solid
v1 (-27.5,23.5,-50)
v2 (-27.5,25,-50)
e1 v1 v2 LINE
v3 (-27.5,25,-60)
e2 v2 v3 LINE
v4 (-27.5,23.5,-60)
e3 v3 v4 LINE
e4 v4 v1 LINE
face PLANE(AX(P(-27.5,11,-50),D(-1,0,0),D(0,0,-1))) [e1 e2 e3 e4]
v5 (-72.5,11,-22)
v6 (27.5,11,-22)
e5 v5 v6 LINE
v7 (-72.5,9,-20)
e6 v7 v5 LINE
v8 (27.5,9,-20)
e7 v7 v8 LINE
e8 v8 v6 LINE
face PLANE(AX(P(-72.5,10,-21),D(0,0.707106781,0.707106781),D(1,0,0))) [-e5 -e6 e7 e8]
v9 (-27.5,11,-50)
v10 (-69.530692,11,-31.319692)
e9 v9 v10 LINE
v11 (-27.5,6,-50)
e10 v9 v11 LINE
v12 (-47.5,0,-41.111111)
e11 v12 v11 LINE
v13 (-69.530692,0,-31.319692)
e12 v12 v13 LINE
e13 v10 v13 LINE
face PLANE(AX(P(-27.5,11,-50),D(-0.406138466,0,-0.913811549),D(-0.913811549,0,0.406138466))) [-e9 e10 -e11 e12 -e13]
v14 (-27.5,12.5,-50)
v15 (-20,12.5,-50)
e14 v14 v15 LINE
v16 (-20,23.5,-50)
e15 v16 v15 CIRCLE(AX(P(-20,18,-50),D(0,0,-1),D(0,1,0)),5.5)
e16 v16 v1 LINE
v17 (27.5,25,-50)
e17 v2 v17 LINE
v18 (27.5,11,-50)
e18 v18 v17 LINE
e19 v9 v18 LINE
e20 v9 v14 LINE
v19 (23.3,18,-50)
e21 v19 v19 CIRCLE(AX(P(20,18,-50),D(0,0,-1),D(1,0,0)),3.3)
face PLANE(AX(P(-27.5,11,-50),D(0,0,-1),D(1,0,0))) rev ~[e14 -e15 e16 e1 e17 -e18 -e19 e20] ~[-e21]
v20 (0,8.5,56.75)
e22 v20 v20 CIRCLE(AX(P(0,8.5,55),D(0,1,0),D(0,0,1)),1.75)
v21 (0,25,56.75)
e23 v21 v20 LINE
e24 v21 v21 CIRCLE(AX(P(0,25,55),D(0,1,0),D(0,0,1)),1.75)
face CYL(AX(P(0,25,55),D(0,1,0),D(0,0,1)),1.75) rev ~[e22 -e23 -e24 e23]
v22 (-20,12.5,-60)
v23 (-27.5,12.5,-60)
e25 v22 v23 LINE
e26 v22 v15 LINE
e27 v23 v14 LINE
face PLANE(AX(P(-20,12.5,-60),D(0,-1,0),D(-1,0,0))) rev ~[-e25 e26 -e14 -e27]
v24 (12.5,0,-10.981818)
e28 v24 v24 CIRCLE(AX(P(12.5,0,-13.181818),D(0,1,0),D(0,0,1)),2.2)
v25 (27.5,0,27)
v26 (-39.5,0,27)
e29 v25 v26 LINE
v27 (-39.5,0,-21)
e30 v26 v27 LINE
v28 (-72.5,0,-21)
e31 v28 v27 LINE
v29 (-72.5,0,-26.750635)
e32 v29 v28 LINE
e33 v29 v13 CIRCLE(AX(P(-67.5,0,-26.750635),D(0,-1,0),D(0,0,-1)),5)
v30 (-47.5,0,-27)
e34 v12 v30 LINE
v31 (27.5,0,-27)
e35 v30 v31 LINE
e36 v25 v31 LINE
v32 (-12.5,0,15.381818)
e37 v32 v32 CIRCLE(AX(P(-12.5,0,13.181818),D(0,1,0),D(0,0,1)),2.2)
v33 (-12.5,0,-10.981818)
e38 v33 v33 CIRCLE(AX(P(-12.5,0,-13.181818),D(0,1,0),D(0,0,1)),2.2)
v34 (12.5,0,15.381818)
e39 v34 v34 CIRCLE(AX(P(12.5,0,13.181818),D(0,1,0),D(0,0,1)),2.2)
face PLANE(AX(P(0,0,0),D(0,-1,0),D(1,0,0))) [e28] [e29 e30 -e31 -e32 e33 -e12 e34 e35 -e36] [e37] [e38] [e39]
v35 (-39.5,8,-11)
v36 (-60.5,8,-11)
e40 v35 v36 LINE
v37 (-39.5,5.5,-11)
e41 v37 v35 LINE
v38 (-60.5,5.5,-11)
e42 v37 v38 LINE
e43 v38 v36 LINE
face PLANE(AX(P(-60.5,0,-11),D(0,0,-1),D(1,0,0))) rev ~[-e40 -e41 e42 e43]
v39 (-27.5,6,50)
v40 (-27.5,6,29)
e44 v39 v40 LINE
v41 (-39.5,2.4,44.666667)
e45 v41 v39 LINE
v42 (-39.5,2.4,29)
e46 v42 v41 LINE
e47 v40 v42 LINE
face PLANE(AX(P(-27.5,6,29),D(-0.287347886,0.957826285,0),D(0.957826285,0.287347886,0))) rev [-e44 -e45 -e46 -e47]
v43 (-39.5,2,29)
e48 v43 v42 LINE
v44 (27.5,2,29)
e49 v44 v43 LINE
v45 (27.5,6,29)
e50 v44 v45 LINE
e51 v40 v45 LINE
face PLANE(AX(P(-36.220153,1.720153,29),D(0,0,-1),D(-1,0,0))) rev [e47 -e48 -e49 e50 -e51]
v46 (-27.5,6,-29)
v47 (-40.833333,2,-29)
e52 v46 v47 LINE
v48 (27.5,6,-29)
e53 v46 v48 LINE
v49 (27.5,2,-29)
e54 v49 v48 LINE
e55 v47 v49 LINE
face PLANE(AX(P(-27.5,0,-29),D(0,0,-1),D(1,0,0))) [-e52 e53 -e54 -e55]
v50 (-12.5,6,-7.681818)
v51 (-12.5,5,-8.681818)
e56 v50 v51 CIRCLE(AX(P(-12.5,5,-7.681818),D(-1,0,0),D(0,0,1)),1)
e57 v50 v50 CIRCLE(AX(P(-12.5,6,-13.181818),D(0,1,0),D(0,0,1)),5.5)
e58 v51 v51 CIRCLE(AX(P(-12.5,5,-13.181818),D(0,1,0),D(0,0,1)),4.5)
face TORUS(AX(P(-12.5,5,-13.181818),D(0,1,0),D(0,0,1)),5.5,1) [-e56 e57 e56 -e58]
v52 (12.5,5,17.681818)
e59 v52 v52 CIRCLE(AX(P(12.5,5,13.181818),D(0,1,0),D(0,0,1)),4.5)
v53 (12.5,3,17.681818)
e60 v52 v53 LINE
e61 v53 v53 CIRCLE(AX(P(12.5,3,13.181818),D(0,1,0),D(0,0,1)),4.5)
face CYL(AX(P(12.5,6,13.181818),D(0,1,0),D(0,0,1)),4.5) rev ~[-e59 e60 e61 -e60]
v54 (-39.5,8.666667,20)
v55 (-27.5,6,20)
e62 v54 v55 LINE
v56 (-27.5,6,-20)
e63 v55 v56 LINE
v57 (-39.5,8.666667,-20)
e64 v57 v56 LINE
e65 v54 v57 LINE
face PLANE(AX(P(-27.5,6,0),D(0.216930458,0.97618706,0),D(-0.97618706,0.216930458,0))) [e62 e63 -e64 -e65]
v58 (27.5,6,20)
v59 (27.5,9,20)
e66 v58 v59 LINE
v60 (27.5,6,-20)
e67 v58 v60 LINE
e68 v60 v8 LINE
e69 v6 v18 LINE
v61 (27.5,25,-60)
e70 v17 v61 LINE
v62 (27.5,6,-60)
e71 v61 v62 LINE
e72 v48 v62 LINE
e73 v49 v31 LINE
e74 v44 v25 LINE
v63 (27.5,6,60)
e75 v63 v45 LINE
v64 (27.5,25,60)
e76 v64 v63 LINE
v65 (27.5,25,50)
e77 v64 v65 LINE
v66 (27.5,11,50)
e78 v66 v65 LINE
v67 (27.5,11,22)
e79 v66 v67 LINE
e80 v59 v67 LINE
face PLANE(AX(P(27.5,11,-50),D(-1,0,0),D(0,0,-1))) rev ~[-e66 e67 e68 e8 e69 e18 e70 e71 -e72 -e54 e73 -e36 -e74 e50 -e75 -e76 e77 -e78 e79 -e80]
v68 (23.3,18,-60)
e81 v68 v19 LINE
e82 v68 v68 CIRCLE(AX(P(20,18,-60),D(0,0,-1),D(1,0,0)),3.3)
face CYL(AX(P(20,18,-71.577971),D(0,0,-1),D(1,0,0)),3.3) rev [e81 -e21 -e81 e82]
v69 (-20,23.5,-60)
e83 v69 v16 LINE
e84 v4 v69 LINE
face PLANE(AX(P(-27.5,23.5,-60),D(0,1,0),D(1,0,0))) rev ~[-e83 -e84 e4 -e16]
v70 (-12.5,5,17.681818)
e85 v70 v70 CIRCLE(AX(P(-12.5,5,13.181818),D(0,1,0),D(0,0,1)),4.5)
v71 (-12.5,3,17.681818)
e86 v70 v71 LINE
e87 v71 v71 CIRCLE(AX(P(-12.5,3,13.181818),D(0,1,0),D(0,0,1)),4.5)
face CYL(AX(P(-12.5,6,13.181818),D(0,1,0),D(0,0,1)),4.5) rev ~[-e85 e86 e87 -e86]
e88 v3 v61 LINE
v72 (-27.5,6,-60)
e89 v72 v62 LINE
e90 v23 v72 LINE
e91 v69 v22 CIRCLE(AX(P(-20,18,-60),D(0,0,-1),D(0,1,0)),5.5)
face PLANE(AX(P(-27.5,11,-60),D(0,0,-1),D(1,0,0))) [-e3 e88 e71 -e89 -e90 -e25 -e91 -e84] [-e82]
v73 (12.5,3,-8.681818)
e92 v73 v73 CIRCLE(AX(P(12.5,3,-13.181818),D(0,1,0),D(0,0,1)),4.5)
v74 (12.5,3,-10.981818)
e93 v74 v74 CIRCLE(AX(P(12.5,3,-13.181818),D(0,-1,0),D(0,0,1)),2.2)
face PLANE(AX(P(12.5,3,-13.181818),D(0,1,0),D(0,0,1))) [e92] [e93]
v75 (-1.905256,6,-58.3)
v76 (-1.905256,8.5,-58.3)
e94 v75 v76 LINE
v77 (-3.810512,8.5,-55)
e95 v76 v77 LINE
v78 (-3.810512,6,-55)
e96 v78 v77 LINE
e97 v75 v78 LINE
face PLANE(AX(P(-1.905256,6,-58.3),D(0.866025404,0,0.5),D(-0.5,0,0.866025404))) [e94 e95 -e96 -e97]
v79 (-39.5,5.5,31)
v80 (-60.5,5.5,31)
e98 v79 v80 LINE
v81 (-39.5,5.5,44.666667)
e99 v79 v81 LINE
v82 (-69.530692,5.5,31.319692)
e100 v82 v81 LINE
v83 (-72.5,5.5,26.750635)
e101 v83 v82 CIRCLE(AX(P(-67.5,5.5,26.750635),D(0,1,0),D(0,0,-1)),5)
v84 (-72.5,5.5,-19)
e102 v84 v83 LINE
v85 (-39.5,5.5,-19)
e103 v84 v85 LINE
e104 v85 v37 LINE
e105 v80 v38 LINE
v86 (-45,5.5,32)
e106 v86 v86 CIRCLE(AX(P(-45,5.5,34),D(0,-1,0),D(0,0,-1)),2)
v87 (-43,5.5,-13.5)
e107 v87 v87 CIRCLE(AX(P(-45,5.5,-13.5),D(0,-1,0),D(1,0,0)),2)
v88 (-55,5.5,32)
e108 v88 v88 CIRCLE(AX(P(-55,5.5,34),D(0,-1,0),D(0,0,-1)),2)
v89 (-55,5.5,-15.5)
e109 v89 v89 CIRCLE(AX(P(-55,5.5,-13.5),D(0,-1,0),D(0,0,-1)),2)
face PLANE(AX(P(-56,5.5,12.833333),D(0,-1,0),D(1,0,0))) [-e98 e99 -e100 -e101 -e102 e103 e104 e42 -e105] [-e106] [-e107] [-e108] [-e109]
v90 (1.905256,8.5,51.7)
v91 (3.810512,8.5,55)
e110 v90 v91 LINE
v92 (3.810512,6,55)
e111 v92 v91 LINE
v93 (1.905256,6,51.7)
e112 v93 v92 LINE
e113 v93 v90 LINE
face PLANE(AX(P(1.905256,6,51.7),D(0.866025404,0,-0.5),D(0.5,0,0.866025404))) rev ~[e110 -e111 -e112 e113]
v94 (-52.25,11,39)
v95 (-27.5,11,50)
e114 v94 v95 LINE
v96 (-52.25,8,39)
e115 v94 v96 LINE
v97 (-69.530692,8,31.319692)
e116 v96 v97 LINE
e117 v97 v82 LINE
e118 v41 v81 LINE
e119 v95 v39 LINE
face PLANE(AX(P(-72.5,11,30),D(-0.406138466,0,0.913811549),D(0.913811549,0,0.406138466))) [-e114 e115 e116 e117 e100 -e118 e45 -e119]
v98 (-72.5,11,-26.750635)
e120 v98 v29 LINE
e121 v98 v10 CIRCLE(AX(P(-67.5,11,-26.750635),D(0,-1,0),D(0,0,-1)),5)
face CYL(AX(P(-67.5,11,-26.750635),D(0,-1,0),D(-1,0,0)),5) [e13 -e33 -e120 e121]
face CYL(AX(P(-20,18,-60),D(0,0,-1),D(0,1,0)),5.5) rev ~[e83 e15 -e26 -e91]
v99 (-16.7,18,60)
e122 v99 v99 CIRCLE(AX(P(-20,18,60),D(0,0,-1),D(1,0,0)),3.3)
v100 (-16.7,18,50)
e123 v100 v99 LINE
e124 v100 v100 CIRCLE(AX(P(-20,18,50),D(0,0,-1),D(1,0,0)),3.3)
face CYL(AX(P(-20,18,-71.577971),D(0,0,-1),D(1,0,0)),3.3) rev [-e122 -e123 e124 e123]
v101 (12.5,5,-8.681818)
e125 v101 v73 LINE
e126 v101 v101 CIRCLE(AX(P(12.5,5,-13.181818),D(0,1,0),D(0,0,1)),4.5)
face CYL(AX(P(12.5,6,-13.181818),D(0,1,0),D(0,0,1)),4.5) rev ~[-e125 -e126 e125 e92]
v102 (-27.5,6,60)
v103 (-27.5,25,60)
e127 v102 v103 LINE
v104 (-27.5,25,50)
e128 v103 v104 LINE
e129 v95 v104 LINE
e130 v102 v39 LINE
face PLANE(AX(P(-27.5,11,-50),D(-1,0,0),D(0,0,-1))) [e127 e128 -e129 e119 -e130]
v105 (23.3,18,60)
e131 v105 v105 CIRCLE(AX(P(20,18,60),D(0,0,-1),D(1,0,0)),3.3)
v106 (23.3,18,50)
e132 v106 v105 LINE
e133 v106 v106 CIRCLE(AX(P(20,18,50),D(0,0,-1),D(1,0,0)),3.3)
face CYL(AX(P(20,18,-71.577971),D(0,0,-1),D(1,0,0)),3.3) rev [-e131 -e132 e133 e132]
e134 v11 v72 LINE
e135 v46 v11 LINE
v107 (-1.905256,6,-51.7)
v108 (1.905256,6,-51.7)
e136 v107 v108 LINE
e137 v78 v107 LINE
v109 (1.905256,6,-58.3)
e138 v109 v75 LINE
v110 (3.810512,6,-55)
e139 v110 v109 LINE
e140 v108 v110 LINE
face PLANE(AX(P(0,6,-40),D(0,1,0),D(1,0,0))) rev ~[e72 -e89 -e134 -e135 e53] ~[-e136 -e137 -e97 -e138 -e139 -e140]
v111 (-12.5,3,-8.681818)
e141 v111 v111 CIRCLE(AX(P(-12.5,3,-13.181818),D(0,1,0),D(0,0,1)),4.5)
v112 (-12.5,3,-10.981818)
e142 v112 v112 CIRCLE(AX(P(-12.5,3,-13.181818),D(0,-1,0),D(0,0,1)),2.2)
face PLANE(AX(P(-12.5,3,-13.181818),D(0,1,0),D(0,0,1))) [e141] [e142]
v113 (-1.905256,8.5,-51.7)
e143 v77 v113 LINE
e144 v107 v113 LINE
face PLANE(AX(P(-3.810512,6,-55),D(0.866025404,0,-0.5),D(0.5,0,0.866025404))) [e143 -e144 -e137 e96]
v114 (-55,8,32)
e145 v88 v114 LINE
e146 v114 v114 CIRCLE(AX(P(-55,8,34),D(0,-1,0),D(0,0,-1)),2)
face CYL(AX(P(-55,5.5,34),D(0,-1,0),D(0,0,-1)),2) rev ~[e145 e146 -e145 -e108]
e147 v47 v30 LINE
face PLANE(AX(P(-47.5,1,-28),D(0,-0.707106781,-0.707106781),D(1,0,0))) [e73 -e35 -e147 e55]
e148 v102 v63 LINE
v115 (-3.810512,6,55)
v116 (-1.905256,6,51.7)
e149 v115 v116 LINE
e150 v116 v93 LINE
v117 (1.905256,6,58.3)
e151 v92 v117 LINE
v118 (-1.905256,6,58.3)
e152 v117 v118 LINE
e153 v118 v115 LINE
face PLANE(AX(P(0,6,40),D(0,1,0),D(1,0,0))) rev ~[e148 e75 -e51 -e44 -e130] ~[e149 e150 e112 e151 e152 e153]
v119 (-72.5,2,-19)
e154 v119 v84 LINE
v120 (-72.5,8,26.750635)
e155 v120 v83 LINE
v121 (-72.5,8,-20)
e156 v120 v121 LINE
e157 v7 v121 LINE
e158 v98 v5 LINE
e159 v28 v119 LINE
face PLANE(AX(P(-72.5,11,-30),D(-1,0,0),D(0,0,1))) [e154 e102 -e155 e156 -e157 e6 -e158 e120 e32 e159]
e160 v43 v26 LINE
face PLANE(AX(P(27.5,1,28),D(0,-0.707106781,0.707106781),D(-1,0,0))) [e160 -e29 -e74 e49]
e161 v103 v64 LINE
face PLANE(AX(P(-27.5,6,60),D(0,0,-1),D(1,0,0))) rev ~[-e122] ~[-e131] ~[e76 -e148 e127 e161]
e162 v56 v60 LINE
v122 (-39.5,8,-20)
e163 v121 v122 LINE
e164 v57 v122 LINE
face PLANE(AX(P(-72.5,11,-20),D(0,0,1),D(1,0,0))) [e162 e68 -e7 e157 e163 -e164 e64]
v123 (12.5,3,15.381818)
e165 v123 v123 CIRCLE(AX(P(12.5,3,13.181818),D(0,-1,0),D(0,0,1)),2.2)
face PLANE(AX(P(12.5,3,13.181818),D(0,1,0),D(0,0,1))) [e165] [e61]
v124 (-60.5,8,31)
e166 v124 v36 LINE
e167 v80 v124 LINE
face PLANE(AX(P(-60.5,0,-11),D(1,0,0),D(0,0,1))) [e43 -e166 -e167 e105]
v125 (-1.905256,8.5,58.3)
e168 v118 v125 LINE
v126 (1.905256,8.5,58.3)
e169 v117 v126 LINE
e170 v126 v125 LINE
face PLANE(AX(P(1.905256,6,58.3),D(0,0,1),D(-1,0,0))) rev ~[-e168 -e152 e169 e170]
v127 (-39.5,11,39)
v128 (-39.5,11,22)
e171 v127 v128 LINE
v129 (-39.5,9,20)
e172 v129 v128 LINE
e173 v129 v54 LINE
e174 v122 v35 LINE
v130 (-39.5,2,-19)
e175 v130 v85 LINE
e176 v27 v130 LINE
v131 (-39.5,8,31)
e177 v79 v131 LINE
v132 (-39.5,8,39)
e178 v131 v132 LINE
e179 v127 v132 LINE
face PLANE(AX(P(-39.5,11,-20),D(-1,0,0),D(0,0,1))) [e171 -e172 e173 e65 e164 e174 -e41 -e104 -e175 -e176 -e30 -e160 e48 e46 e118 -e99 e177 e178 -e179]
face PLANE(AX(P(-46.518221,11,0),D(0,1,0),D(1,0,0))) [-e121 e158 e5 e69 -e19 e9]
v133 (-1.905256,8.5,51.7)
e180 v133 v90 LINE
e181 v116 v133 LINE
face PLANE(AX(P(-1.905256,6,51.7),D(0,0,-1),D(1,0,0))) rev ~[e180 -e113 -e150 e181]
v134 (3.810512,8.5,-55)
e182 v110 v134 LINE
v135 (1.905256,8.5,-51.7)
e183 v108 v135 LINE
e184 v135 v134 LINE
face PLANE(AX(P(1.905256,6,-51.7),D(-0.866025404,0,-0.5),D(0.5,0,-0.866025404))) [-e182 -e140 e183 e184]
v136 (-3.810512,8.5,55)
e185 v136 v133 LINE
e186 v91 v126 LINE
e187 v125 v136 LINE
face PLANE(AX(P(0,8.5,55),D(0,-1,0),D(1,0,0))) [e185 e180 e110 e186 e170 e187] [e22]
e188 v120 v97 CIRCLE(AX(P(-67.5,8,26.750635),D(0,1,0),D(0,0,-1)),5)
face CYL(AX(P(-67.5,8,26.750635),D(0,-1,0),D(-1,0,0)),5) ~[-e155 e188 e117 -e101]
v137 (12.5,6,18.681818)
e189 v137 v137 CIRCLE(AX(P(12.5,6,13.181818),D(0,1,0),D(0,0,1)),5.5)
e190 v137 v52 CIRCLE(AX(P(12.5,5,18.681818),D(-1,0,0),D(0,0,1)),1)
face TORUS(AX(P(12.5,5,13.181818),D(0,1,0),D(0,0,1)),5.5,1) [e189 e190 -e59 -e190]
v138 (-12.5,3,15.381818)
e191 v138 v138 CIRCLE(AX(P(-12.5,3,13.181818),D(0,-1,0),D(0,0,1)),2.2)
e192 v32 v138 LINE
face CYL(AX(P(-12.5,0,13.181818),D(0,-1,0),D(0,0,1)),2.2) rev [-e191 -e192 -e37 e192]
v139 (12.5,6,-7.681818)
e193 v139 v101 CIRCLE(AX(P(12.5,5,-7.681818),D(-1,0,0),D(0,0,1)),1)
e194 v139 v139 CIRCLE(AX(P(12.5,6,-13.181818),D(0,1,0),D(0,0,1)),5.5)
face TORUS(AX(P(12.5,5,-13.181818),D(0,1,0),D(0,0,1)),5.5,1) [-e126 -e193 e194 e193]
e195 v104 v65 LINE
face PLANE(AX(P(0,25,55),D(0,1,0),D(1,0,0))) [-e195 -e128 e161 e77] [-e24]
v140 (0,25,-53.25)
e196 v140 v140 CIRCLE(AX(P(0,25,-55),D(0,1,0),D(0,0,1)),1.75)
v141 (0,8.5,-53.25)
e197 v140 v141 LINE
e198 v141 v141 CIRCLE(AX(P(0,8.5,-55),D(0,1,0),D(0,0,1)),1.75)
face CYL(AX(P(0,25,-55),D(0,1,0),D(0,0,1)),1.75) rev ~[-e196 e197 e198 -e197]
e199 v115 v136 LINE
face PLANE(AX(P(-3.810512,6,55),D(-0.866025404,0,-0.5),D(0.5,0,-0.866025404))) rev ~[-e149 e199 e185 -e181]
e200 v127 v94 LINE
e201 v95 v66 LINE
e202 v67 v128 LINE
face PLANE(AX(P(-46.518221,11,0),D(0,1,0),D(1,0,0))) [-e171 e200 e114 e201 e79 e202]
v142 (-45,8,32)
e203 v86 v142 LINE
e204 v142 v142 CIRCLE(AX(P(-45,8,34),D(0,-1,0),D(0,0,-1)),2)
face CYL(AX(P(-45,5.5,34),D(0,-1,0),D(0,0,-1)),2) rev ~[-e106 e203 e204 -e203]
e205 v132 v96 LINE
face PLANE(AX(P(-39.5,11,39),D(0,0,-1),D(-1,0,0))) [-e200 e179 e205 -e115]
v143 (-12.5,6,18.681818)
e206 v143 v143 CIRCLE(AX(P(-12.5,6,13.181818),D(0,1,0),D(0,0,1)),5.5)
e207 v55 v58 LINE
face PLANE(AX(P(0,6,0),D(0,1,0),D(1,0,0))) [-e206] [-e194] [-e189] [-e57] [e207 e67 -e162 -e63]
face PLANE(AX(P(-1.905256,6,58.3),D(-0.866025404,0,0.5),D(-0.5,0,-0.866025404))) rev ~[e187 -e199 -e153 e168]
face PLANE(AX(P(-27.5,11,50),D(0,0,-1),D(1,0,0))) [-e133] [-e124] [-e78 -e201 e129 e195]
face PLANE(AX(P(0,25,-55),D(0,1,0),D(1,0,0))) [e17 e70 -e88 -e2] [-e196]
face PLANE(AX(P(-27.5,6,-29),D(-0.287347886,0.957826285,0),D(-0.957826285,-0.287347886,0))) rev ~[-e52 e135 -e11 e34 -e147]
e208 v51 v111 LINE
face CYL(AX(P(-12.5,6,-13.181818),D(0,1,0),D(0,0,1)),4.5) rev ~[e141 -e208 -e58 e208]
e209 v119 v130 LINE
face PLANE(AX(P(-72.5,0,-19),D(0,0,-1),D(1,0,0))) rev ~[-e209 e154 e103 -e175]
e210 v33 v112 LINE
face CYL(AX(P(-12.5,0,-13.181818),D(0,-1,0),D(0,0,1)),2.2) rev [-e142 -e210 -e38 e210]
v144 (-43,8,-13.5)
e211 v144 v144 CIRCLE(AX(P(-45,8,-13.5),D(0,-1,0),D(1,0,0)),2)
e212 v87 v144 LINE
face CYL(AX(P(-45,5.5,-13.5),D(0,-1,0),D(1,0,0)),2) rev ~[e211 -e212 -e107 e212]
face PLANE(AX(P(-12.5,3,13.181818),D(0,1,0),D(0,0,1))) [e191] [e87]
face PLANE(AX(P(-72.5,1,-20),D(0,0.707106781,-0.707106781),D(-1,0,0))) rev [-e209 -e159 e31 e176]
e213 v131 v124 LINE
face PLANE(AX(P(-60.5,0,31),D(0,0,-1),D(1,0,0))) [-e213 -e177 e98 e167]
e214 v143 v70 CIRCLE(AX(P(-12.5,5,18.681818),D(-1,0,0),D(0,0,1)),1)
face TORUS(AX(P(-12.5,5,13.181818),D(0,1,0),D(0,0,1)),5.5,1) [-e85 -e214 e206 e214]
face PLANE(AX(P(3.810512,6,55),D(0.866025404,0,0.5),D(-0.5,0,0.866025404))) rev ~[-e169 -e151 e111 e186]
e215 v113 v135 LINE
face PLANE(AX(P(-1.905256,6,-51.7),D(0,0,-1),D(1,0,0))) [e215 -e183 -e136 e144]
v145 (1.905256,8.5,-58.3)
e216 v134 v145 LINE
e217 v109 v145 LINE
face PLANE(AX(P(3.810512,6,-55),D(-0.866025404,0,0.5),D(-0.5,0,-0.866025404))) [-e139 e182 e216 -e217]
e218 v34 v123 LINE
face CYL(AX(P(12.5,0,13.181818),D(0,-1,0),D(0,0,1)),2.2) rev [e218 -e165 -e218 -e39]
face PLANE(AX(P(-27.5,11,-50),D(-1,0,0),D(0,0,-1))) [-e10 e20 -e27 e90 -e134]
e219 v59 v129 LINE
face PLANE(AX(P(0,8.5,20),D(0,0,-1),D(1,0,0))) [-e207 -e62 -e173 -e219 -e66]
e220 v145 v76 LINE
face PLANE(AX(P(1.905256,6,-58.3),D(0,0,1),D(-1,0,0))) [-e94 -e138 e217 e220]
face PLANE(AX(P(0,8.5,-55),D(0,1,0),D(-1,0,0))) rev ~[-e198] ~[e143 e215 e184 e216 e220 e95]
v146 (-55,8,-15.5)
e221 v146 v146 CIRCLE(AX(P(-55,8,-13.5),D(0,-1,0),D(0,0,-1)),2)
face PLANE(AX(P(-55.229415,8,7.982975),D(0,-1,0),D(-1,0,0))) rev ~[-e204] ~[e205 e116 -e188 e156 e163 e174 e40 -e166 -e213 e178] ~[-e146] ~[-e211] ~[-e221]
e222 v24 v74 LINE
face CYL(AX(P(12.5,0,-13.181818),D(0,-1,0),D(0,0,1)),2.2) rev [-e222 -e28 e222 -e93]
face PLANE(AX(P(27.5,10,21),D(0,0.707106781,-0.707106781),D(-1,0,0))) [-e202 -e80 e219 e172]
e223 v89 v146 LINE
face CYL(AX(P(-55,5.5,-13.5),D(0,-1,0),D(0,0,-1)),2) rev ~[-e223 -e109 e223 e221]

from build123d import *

# Parameters (mm, degrees)
CROQUIS1_W                        = 55
CROQUIS1_H                        = 58
CROQUIS1_R                        = 2.2
SALIENTE_EXTRUIR1_DEPTH           = 6
CROQUIS2_R                        = 4.5
CORTAR_EXTRUIR1_DEPTH             = 3
REDONDEO1_R                       = 1
CROQUIS3_W                        = 55
CROQUIS3_H                        = 40
SALIENTE_EXTRUIR2_DEPTH           = 5
CROQUIS4_W                        = 55
CROQUIS4_H                        = 10
SALIENTE_EXTRUIR3_DEPTH           = 14
CORTAR_EXTRUIR2_DEPTH             = 71.577971067
CORTAR_EXTRUIR2_DEPTH_BACK        = 71.577971067
CROQUIS5_R                        = 3.3
CORTAR_EXTRUIR3_REACH             = 127.623
SALIENTE_EXTRUIR4_REACH           = 69.47
CORTAR_EXTRUIR4_DEPTH             = 118.48297749
CORTAR_EXTRUIR5_REACH             = 99.372
CORTAR_EXTRUIR5_DIRECTION_2_REACH = 99.372
CROQUIS10_W                       = 21
CROQUIS10_H                       = 42
CORTAR_EXTRUIR6_DEPTH             = 98.371710471
CROQUIS11_W                       = 33
CROQUIS11_H                       = 63.666666667
CORTAR_EXTRUIR7_DEPTH             = 5.5
CROQUIS12_R                       = 2
CORTAR_EXTRUIR8_DEPTH             = 97.106711524
CORTAR_EXTRUIR9_DEPTH             = 3
CHAFL_N1_SIZE                     = 2
CROQUIS14_R                       = 1.75
CORTAR_EXTRUIR10_DEPTH            = 98.371710471
CORTAR_EXTRUIR11_DEPTH            = 2.5
REDONDEO2_R                       = 5


with BuildPart() as part:
    # Croquis1 → Saliente-Extruir1 (new body)
    with BuildSketch(Plane(origin=(0, 0, 0), x_dir=(1, 0, 0), z_dir=(0, 1, 0))):
        Rectangle(CROQUIS1_W, CROQUIS1_H)
        with Locations(Location((-12.5, 13.181818182, 0), (0, 0, 270))):
            Circle(CROQUIS1_R, mode=Mode.SUBTRACT)
        with Locations(Location((12.5, 13.181818182, 0), (0, 0, 270))):
            Circle(CROQUIS1_R, mode=Mode.SUBTRACT)
        with Locations(Location((-12.5, -13.181818182, 0), (0, 0, 270))):
            Circle(CROQUIS1_R, mode=Mode.SUBTRACT)
        with Locations(Location((12.5, -13.181818182, 0), (0, 0, 270))):
            Circle(CROQUIS1_R, mode=Mode.SUBTRACT)
    extrude(amount=SALIENTE_EXTRUIR1_DEPTH)

    # Croquis2 → Cortar-Extruir1 (cut)
    with BuildSketch(Plane(origin=(0, 6, 0), x_dir=(1, 0, 0), z_dir=(0, 1, 0))):
        with Locations(Location((-12.5, 13.181818182, 0), (0, 0, 270))):
            Circle(CROQUIS2_R)
        with Locations(Location((12.5, 13.181818182, 0), (0, 0, 270))):
            Circle(CROQUIS2_R)
        with Locations(Location((-12.5, -13.181818182, 0), (0, 0, 270))):
            Circle(CROQUIS2_R)
        with Locations(Location((12.5, -13.181818182, 0), (0, 0, 270))):
            Circle(CROQUIS2_R)
    extrude(amount=-CORTAR_EXTRUIR1_DEPTH, mode=Mode.SUBTRACT)

    # Redondeo1
    redondeo1_edges = [part.edges().sort_by_distance(p)[0] for p in [
        (12.5, 6, -17.681818182),
        (-12.5, 6, 8.681818182),
        (12.5, 6, 8.681818182),
        (-12.5, 6, -17.681818182),
    ]]
    fillet(redondeo1_edges, radius=REDONDEO1_R)

    # Croquis3 → Saliente-Extruir2 (add)
    with BuildSketch(Plane(origin=(0, 6, 0), x_dir=(1, 0, 0), z_dir=(0, 1, 0))):
        with Locations((0, 40)):
            Rectangle(CROQUIS3_W, CROQUIS3_H)
        with Locations((0, -40)):
            Rectangle(CROQUIS3_W, CROQUIS3_H)
    extrude(amount=SALIENTE_EXTRUIR2_DEPTH)

    # Croquis4 → Saliente-Extruir3 (add)
    with BuildSketch(Plane(origin=(0, 11, 0), x_dir=(1, 0, 0), z_dir=(0, 1, 0))):
        with Locations((0, 55)):
            Rectangle(CROQUIS4_W, CROQUIS4_H)
        with Locations((0, -55)):
            Rectangle(CROQUIS4_W, CROQUIS4_H)
    extrude(amount=SALIENTE_EXTRUIR3_DEPTH)

    # Croquis5 → Cortar-Extruir2 (cut, two sides: drawn at the far end of the back side and taken through both)
    with BuildSketch(Plane.XY.offset(-CORTAR_EXTRUIR2_DEPTH_BACK)):
        with Locations((-20, 18)):
            Circle(CROQUIS5_R)
        with Locations((20, 18)):
            Circle(CROQUIS5_R)
    extrude(amount=CORTAR_EXTRUIR2_DEPTH + CORTAR_EXTRUIR2_DEPTH_BACK, mode=Mode.SUBTRACT)

    # Croquis6 → Cortar-Extruir3 (cut, up to next)
    with BuildSketch(Plane(origin=(0, 0, -60), x_dir=(-1, 0, 0), z_dir=(0, 0, -1)), mode=Mode.PRIVATE) as cortar_extruir3_sk1:
        with BuildLine():
            Line((27.5, 23.5), (20, 23.5))
            ThreePointArc((20, 23.5), (14.5, 18), (20, 12.5))
            Line((20, 12.5), (27.5, 12.5))
            Line((27.5, 12.5), (27.5, 23.5))
        make_face()
    cortar_extruir3_tool1 = extrude(cortar_extruir3_sk1.sketch, amount=-CORTAR_EXTRUIR3_REACH, mode=Mode.PRIVATE) & part.part
    add(cortar_extruir3_tool1.solids().sort_by_distance((-21.526408, 18, -60))[0], mode=Mode.SUBTRACT)

    # Saliente-Extruir4: up to this face of the body (flat: up to its plane)
    saliente_extruir4_end = Plane(part.part.faces().sort_by_distance((0, 0, 0))[0])
    # Croquis7 → Saliente-Extruir4 (add, up to the picked face)
    with BuildSketch(Plane(origin=(0, 11, 0), x_dir=(1, 0, 0), z_dir=(0, 1, 0)), mode=Mode.PRIVATE) as saliente_extruir4_sk1:
        Polygon((-72.5, 30), (-72.5, -30), (-27.5, -50), (-27.5, 50), align=None)
    saliente_extruir4_tool1 = split(extrude(saliente_extruir4_sk1.sketch, amount=-SALIENTE_EXTRUIR4_REACH, mode=Mode.PRIVATE), bisect_by=saliente_extruir4_end, keep=Keep.BOTH, mode=Mode.PRIVATE)
    add(saliente_extruir4_tool1.solids().sort_by(Axis((-48.125, 11, 0), (0, -1, 0)))[0])

    # Croquis8 → Cortar-Extruir4 (cut, through all)
    with BuildSketch(Plane(origin=(0, 0, -29), x_dir=(-1, 0, 0), z_dir=(0, 0, -1))):
        Polygon((27.5, 6), (47.5, 0), (27.5, 0), align=None)
    cortar_extruir4 = extrude(amount=CORTAR_EXTRUIR4_DEPTH, mode=Mode.SUBTRACT)

    # Simetría1: Cortar-Extruir4 across plane
    add(cortar_extruir4.mirror(Plane.XY), mode=Mode.SUBTRACT)

    # Cortar-Extruir5: up to this face of the body (flat: up to its plane)
    cortar_extruir5_end = Plane(part.part.faces().sort_by_distance((0, 8.5, -20))[0])
    # Croquis9 → Cortar-Extruir5 (cut, up to the picked face)
    with BuildSketch(Plane.XY, mode=Mode.PRIVATE) as cortar_extruir5_sk1:
        Polygon((-27.5, 6), (-50, 11), (-27.5, 11), align=None)
    cortar_extruir5_tool1 = split(extrude(cortar_extruir5_sk1.sketch, amount=-CORTAR_EXTRUIR5_REACH, mode=Mode.PRIVATE), bisect_by=cortar_extruir5_end, keep=Keep.BOTH, mode=Mode.PRIVATE)
    add(cortar_extruir5_tool1.solids().sort_by(Axis((-35, 9.333333, 0), (0, 0, -1)))[0], mode=Mode.SUBTRACT)

    # Cortar-Extruir5 direction 2: up to this face of the body (flat: up to its plane)
    cortar_extruir5_direction_2_end = Plane(part.part.faces().sort_by_distance((0, 8.5, 20))[0])
    # Croquis9 → Cortar-Extruir5 direction 2 (cut, up to the picked face)
    with BuildSketch(Plane.XY, mode=Mode.PRIVATE) as cortar_extruir5_direction_2_sk1:
        Polygon((-27.5, 6), (-50, 11), (-27.5, 11), align=None)
    cortar_extruir5_direction_2_tool1 = split(extrude(cortar_extruir5_direction_2_sk1.sketch, amount=CORTAR_EXTRUIR5_DIRECTION_2_REACH, mode=Mode.PRIVATE), bisect_by=cortar_extruir5_direction_2_end, keep=Keep.BOTH, mode=Mode.PRIVATE)
    add(cortar_extruir5_direction_2_tool1.solids().sort_by(Axis((-35, 9.333333, 0), (0, 0, 1)))[0], mode=Mode.SUBTRACT)

    # Croquis10 → Cortar-Extruir6 (cut, through all)
    with BuildSketch(Plane.XZ):
        with Locations((-50, 10)):
            Rectangle(CROQUIS10_W, CROQUIS10_H)
    extrude(amount=-CORTAR_EXTRUIR6_DEPTH, mode=Mode.SUBTRACT)

    # Croquis11 → Cortar-Extruir7 (cut)
    with BuildSketch(Plane.XZ):
        with Locations((-56, 12.833333334)):
            Rectangle(CROQUIS11_W, CROQUIS11_H)
    extrude(amount=-CORTAR_EXTRUIR7_DEPTH, mode=Mode.SUBTRACT)

    # Croquis12 → Cortar-Extruir8 (cut, through all)
    with BuildSketch(Plane.XZ.offset(-5.5)):
        with Locations(Location((-45, 34, 0), (0, 0, 270))):
            Circle(CROQUIS12_R)
        with Locations(Location((-55, 34, 0), (0, 0, 270))):
            Circle(CROQUIS12_R)
        with Locations(Location((-55, -13.5, 0), (0, 0, 270))):
            Circle(CROQUIS12_R)
        with Locations((-45, -13.5)):
            Circle(CROQUIS12_R)
    extrude(amount=-CORTAR_EXTRUIR8_DEPTH, mode=Mode.SUBTRACT)

    # Croquis13 → Cortar-Extruir9 (cut)
    with BuildSketch(Plane(origin=(0, 11, 0), x_dir=(1, 0, 0), z_dir=(0, 1, 0))):
        Polygon((-72.5, 20), (-39.5, 20), (-39.5, -39), (-52.25, -39), (-72.5, -30), align=None)
    extrude(amount=-CORTAR_EXTRUIR9_DEPTH, mode=Mode.SUBTRACT)

    # Chaflán1
    chafl_n1_edges = [part.edges().sort_by_distance(p)[0] for p in [
        (-6, 0, 29),
        (-56, 0, -19),
        (-10, 0, -29),
        (-22.5, 11, -20),
        (-6, 11, 20),
    ]]
    chamfer(chafl_n1_edges, length=CHAFL_N1_SIZE)

    # Croquis14 → Cortar-Extruir10 (cut, through all)
    with BuildSketch(Plane(origin=(0, 25, 0), x_dir=(1, 0, 0), z_dir=(0, 1, 0))):
        with Locations(Location((0, 55, 0), (0, 0, 270))):
            Circle(CROQUIS14_R)
        with Locations(Location((0, -55, 0), (0, 0, 270))):
            Circle(CROQUIS14_R)
    extrude(amount=-CORTAR_EXTRUIR10_DEPTH, mode=Mode.SUBTRACT)

    # Croquis15 → Cortar-Extruir11 (cut)
    with BuildSketch(Plane.XZ.offset(-6)):
        Polygon((3.810511777, 55), (1.905255888, 58.3), (-1.905255888, 58.3), (-3.810511777, 55), (-1.905255888, 51.7), (1.905255888, 51.7), align=None)
        Polygon((1.905255888, -51.7), (3.810511777, -55), (1.905255888, -58.3), (-1.905255888, -58.3), (-3.810511777, -55), (-1.905255888, -51.7), align=None)
    extrude(amount=-CORTAR_EXTRUIR11_DEPTH, mode=Mode.SUBTRACT)

    # Redondeo2
    redondeo2_edges = [part.edges().sort_by_distance(p)[0] for p in [
        (-72.5, 5.5, -30),
        (-72.5, 6.75, 30),
    ]]
    fillet(redondeo2_edges, radius=REDONDEO2_R)


solid = part.part
